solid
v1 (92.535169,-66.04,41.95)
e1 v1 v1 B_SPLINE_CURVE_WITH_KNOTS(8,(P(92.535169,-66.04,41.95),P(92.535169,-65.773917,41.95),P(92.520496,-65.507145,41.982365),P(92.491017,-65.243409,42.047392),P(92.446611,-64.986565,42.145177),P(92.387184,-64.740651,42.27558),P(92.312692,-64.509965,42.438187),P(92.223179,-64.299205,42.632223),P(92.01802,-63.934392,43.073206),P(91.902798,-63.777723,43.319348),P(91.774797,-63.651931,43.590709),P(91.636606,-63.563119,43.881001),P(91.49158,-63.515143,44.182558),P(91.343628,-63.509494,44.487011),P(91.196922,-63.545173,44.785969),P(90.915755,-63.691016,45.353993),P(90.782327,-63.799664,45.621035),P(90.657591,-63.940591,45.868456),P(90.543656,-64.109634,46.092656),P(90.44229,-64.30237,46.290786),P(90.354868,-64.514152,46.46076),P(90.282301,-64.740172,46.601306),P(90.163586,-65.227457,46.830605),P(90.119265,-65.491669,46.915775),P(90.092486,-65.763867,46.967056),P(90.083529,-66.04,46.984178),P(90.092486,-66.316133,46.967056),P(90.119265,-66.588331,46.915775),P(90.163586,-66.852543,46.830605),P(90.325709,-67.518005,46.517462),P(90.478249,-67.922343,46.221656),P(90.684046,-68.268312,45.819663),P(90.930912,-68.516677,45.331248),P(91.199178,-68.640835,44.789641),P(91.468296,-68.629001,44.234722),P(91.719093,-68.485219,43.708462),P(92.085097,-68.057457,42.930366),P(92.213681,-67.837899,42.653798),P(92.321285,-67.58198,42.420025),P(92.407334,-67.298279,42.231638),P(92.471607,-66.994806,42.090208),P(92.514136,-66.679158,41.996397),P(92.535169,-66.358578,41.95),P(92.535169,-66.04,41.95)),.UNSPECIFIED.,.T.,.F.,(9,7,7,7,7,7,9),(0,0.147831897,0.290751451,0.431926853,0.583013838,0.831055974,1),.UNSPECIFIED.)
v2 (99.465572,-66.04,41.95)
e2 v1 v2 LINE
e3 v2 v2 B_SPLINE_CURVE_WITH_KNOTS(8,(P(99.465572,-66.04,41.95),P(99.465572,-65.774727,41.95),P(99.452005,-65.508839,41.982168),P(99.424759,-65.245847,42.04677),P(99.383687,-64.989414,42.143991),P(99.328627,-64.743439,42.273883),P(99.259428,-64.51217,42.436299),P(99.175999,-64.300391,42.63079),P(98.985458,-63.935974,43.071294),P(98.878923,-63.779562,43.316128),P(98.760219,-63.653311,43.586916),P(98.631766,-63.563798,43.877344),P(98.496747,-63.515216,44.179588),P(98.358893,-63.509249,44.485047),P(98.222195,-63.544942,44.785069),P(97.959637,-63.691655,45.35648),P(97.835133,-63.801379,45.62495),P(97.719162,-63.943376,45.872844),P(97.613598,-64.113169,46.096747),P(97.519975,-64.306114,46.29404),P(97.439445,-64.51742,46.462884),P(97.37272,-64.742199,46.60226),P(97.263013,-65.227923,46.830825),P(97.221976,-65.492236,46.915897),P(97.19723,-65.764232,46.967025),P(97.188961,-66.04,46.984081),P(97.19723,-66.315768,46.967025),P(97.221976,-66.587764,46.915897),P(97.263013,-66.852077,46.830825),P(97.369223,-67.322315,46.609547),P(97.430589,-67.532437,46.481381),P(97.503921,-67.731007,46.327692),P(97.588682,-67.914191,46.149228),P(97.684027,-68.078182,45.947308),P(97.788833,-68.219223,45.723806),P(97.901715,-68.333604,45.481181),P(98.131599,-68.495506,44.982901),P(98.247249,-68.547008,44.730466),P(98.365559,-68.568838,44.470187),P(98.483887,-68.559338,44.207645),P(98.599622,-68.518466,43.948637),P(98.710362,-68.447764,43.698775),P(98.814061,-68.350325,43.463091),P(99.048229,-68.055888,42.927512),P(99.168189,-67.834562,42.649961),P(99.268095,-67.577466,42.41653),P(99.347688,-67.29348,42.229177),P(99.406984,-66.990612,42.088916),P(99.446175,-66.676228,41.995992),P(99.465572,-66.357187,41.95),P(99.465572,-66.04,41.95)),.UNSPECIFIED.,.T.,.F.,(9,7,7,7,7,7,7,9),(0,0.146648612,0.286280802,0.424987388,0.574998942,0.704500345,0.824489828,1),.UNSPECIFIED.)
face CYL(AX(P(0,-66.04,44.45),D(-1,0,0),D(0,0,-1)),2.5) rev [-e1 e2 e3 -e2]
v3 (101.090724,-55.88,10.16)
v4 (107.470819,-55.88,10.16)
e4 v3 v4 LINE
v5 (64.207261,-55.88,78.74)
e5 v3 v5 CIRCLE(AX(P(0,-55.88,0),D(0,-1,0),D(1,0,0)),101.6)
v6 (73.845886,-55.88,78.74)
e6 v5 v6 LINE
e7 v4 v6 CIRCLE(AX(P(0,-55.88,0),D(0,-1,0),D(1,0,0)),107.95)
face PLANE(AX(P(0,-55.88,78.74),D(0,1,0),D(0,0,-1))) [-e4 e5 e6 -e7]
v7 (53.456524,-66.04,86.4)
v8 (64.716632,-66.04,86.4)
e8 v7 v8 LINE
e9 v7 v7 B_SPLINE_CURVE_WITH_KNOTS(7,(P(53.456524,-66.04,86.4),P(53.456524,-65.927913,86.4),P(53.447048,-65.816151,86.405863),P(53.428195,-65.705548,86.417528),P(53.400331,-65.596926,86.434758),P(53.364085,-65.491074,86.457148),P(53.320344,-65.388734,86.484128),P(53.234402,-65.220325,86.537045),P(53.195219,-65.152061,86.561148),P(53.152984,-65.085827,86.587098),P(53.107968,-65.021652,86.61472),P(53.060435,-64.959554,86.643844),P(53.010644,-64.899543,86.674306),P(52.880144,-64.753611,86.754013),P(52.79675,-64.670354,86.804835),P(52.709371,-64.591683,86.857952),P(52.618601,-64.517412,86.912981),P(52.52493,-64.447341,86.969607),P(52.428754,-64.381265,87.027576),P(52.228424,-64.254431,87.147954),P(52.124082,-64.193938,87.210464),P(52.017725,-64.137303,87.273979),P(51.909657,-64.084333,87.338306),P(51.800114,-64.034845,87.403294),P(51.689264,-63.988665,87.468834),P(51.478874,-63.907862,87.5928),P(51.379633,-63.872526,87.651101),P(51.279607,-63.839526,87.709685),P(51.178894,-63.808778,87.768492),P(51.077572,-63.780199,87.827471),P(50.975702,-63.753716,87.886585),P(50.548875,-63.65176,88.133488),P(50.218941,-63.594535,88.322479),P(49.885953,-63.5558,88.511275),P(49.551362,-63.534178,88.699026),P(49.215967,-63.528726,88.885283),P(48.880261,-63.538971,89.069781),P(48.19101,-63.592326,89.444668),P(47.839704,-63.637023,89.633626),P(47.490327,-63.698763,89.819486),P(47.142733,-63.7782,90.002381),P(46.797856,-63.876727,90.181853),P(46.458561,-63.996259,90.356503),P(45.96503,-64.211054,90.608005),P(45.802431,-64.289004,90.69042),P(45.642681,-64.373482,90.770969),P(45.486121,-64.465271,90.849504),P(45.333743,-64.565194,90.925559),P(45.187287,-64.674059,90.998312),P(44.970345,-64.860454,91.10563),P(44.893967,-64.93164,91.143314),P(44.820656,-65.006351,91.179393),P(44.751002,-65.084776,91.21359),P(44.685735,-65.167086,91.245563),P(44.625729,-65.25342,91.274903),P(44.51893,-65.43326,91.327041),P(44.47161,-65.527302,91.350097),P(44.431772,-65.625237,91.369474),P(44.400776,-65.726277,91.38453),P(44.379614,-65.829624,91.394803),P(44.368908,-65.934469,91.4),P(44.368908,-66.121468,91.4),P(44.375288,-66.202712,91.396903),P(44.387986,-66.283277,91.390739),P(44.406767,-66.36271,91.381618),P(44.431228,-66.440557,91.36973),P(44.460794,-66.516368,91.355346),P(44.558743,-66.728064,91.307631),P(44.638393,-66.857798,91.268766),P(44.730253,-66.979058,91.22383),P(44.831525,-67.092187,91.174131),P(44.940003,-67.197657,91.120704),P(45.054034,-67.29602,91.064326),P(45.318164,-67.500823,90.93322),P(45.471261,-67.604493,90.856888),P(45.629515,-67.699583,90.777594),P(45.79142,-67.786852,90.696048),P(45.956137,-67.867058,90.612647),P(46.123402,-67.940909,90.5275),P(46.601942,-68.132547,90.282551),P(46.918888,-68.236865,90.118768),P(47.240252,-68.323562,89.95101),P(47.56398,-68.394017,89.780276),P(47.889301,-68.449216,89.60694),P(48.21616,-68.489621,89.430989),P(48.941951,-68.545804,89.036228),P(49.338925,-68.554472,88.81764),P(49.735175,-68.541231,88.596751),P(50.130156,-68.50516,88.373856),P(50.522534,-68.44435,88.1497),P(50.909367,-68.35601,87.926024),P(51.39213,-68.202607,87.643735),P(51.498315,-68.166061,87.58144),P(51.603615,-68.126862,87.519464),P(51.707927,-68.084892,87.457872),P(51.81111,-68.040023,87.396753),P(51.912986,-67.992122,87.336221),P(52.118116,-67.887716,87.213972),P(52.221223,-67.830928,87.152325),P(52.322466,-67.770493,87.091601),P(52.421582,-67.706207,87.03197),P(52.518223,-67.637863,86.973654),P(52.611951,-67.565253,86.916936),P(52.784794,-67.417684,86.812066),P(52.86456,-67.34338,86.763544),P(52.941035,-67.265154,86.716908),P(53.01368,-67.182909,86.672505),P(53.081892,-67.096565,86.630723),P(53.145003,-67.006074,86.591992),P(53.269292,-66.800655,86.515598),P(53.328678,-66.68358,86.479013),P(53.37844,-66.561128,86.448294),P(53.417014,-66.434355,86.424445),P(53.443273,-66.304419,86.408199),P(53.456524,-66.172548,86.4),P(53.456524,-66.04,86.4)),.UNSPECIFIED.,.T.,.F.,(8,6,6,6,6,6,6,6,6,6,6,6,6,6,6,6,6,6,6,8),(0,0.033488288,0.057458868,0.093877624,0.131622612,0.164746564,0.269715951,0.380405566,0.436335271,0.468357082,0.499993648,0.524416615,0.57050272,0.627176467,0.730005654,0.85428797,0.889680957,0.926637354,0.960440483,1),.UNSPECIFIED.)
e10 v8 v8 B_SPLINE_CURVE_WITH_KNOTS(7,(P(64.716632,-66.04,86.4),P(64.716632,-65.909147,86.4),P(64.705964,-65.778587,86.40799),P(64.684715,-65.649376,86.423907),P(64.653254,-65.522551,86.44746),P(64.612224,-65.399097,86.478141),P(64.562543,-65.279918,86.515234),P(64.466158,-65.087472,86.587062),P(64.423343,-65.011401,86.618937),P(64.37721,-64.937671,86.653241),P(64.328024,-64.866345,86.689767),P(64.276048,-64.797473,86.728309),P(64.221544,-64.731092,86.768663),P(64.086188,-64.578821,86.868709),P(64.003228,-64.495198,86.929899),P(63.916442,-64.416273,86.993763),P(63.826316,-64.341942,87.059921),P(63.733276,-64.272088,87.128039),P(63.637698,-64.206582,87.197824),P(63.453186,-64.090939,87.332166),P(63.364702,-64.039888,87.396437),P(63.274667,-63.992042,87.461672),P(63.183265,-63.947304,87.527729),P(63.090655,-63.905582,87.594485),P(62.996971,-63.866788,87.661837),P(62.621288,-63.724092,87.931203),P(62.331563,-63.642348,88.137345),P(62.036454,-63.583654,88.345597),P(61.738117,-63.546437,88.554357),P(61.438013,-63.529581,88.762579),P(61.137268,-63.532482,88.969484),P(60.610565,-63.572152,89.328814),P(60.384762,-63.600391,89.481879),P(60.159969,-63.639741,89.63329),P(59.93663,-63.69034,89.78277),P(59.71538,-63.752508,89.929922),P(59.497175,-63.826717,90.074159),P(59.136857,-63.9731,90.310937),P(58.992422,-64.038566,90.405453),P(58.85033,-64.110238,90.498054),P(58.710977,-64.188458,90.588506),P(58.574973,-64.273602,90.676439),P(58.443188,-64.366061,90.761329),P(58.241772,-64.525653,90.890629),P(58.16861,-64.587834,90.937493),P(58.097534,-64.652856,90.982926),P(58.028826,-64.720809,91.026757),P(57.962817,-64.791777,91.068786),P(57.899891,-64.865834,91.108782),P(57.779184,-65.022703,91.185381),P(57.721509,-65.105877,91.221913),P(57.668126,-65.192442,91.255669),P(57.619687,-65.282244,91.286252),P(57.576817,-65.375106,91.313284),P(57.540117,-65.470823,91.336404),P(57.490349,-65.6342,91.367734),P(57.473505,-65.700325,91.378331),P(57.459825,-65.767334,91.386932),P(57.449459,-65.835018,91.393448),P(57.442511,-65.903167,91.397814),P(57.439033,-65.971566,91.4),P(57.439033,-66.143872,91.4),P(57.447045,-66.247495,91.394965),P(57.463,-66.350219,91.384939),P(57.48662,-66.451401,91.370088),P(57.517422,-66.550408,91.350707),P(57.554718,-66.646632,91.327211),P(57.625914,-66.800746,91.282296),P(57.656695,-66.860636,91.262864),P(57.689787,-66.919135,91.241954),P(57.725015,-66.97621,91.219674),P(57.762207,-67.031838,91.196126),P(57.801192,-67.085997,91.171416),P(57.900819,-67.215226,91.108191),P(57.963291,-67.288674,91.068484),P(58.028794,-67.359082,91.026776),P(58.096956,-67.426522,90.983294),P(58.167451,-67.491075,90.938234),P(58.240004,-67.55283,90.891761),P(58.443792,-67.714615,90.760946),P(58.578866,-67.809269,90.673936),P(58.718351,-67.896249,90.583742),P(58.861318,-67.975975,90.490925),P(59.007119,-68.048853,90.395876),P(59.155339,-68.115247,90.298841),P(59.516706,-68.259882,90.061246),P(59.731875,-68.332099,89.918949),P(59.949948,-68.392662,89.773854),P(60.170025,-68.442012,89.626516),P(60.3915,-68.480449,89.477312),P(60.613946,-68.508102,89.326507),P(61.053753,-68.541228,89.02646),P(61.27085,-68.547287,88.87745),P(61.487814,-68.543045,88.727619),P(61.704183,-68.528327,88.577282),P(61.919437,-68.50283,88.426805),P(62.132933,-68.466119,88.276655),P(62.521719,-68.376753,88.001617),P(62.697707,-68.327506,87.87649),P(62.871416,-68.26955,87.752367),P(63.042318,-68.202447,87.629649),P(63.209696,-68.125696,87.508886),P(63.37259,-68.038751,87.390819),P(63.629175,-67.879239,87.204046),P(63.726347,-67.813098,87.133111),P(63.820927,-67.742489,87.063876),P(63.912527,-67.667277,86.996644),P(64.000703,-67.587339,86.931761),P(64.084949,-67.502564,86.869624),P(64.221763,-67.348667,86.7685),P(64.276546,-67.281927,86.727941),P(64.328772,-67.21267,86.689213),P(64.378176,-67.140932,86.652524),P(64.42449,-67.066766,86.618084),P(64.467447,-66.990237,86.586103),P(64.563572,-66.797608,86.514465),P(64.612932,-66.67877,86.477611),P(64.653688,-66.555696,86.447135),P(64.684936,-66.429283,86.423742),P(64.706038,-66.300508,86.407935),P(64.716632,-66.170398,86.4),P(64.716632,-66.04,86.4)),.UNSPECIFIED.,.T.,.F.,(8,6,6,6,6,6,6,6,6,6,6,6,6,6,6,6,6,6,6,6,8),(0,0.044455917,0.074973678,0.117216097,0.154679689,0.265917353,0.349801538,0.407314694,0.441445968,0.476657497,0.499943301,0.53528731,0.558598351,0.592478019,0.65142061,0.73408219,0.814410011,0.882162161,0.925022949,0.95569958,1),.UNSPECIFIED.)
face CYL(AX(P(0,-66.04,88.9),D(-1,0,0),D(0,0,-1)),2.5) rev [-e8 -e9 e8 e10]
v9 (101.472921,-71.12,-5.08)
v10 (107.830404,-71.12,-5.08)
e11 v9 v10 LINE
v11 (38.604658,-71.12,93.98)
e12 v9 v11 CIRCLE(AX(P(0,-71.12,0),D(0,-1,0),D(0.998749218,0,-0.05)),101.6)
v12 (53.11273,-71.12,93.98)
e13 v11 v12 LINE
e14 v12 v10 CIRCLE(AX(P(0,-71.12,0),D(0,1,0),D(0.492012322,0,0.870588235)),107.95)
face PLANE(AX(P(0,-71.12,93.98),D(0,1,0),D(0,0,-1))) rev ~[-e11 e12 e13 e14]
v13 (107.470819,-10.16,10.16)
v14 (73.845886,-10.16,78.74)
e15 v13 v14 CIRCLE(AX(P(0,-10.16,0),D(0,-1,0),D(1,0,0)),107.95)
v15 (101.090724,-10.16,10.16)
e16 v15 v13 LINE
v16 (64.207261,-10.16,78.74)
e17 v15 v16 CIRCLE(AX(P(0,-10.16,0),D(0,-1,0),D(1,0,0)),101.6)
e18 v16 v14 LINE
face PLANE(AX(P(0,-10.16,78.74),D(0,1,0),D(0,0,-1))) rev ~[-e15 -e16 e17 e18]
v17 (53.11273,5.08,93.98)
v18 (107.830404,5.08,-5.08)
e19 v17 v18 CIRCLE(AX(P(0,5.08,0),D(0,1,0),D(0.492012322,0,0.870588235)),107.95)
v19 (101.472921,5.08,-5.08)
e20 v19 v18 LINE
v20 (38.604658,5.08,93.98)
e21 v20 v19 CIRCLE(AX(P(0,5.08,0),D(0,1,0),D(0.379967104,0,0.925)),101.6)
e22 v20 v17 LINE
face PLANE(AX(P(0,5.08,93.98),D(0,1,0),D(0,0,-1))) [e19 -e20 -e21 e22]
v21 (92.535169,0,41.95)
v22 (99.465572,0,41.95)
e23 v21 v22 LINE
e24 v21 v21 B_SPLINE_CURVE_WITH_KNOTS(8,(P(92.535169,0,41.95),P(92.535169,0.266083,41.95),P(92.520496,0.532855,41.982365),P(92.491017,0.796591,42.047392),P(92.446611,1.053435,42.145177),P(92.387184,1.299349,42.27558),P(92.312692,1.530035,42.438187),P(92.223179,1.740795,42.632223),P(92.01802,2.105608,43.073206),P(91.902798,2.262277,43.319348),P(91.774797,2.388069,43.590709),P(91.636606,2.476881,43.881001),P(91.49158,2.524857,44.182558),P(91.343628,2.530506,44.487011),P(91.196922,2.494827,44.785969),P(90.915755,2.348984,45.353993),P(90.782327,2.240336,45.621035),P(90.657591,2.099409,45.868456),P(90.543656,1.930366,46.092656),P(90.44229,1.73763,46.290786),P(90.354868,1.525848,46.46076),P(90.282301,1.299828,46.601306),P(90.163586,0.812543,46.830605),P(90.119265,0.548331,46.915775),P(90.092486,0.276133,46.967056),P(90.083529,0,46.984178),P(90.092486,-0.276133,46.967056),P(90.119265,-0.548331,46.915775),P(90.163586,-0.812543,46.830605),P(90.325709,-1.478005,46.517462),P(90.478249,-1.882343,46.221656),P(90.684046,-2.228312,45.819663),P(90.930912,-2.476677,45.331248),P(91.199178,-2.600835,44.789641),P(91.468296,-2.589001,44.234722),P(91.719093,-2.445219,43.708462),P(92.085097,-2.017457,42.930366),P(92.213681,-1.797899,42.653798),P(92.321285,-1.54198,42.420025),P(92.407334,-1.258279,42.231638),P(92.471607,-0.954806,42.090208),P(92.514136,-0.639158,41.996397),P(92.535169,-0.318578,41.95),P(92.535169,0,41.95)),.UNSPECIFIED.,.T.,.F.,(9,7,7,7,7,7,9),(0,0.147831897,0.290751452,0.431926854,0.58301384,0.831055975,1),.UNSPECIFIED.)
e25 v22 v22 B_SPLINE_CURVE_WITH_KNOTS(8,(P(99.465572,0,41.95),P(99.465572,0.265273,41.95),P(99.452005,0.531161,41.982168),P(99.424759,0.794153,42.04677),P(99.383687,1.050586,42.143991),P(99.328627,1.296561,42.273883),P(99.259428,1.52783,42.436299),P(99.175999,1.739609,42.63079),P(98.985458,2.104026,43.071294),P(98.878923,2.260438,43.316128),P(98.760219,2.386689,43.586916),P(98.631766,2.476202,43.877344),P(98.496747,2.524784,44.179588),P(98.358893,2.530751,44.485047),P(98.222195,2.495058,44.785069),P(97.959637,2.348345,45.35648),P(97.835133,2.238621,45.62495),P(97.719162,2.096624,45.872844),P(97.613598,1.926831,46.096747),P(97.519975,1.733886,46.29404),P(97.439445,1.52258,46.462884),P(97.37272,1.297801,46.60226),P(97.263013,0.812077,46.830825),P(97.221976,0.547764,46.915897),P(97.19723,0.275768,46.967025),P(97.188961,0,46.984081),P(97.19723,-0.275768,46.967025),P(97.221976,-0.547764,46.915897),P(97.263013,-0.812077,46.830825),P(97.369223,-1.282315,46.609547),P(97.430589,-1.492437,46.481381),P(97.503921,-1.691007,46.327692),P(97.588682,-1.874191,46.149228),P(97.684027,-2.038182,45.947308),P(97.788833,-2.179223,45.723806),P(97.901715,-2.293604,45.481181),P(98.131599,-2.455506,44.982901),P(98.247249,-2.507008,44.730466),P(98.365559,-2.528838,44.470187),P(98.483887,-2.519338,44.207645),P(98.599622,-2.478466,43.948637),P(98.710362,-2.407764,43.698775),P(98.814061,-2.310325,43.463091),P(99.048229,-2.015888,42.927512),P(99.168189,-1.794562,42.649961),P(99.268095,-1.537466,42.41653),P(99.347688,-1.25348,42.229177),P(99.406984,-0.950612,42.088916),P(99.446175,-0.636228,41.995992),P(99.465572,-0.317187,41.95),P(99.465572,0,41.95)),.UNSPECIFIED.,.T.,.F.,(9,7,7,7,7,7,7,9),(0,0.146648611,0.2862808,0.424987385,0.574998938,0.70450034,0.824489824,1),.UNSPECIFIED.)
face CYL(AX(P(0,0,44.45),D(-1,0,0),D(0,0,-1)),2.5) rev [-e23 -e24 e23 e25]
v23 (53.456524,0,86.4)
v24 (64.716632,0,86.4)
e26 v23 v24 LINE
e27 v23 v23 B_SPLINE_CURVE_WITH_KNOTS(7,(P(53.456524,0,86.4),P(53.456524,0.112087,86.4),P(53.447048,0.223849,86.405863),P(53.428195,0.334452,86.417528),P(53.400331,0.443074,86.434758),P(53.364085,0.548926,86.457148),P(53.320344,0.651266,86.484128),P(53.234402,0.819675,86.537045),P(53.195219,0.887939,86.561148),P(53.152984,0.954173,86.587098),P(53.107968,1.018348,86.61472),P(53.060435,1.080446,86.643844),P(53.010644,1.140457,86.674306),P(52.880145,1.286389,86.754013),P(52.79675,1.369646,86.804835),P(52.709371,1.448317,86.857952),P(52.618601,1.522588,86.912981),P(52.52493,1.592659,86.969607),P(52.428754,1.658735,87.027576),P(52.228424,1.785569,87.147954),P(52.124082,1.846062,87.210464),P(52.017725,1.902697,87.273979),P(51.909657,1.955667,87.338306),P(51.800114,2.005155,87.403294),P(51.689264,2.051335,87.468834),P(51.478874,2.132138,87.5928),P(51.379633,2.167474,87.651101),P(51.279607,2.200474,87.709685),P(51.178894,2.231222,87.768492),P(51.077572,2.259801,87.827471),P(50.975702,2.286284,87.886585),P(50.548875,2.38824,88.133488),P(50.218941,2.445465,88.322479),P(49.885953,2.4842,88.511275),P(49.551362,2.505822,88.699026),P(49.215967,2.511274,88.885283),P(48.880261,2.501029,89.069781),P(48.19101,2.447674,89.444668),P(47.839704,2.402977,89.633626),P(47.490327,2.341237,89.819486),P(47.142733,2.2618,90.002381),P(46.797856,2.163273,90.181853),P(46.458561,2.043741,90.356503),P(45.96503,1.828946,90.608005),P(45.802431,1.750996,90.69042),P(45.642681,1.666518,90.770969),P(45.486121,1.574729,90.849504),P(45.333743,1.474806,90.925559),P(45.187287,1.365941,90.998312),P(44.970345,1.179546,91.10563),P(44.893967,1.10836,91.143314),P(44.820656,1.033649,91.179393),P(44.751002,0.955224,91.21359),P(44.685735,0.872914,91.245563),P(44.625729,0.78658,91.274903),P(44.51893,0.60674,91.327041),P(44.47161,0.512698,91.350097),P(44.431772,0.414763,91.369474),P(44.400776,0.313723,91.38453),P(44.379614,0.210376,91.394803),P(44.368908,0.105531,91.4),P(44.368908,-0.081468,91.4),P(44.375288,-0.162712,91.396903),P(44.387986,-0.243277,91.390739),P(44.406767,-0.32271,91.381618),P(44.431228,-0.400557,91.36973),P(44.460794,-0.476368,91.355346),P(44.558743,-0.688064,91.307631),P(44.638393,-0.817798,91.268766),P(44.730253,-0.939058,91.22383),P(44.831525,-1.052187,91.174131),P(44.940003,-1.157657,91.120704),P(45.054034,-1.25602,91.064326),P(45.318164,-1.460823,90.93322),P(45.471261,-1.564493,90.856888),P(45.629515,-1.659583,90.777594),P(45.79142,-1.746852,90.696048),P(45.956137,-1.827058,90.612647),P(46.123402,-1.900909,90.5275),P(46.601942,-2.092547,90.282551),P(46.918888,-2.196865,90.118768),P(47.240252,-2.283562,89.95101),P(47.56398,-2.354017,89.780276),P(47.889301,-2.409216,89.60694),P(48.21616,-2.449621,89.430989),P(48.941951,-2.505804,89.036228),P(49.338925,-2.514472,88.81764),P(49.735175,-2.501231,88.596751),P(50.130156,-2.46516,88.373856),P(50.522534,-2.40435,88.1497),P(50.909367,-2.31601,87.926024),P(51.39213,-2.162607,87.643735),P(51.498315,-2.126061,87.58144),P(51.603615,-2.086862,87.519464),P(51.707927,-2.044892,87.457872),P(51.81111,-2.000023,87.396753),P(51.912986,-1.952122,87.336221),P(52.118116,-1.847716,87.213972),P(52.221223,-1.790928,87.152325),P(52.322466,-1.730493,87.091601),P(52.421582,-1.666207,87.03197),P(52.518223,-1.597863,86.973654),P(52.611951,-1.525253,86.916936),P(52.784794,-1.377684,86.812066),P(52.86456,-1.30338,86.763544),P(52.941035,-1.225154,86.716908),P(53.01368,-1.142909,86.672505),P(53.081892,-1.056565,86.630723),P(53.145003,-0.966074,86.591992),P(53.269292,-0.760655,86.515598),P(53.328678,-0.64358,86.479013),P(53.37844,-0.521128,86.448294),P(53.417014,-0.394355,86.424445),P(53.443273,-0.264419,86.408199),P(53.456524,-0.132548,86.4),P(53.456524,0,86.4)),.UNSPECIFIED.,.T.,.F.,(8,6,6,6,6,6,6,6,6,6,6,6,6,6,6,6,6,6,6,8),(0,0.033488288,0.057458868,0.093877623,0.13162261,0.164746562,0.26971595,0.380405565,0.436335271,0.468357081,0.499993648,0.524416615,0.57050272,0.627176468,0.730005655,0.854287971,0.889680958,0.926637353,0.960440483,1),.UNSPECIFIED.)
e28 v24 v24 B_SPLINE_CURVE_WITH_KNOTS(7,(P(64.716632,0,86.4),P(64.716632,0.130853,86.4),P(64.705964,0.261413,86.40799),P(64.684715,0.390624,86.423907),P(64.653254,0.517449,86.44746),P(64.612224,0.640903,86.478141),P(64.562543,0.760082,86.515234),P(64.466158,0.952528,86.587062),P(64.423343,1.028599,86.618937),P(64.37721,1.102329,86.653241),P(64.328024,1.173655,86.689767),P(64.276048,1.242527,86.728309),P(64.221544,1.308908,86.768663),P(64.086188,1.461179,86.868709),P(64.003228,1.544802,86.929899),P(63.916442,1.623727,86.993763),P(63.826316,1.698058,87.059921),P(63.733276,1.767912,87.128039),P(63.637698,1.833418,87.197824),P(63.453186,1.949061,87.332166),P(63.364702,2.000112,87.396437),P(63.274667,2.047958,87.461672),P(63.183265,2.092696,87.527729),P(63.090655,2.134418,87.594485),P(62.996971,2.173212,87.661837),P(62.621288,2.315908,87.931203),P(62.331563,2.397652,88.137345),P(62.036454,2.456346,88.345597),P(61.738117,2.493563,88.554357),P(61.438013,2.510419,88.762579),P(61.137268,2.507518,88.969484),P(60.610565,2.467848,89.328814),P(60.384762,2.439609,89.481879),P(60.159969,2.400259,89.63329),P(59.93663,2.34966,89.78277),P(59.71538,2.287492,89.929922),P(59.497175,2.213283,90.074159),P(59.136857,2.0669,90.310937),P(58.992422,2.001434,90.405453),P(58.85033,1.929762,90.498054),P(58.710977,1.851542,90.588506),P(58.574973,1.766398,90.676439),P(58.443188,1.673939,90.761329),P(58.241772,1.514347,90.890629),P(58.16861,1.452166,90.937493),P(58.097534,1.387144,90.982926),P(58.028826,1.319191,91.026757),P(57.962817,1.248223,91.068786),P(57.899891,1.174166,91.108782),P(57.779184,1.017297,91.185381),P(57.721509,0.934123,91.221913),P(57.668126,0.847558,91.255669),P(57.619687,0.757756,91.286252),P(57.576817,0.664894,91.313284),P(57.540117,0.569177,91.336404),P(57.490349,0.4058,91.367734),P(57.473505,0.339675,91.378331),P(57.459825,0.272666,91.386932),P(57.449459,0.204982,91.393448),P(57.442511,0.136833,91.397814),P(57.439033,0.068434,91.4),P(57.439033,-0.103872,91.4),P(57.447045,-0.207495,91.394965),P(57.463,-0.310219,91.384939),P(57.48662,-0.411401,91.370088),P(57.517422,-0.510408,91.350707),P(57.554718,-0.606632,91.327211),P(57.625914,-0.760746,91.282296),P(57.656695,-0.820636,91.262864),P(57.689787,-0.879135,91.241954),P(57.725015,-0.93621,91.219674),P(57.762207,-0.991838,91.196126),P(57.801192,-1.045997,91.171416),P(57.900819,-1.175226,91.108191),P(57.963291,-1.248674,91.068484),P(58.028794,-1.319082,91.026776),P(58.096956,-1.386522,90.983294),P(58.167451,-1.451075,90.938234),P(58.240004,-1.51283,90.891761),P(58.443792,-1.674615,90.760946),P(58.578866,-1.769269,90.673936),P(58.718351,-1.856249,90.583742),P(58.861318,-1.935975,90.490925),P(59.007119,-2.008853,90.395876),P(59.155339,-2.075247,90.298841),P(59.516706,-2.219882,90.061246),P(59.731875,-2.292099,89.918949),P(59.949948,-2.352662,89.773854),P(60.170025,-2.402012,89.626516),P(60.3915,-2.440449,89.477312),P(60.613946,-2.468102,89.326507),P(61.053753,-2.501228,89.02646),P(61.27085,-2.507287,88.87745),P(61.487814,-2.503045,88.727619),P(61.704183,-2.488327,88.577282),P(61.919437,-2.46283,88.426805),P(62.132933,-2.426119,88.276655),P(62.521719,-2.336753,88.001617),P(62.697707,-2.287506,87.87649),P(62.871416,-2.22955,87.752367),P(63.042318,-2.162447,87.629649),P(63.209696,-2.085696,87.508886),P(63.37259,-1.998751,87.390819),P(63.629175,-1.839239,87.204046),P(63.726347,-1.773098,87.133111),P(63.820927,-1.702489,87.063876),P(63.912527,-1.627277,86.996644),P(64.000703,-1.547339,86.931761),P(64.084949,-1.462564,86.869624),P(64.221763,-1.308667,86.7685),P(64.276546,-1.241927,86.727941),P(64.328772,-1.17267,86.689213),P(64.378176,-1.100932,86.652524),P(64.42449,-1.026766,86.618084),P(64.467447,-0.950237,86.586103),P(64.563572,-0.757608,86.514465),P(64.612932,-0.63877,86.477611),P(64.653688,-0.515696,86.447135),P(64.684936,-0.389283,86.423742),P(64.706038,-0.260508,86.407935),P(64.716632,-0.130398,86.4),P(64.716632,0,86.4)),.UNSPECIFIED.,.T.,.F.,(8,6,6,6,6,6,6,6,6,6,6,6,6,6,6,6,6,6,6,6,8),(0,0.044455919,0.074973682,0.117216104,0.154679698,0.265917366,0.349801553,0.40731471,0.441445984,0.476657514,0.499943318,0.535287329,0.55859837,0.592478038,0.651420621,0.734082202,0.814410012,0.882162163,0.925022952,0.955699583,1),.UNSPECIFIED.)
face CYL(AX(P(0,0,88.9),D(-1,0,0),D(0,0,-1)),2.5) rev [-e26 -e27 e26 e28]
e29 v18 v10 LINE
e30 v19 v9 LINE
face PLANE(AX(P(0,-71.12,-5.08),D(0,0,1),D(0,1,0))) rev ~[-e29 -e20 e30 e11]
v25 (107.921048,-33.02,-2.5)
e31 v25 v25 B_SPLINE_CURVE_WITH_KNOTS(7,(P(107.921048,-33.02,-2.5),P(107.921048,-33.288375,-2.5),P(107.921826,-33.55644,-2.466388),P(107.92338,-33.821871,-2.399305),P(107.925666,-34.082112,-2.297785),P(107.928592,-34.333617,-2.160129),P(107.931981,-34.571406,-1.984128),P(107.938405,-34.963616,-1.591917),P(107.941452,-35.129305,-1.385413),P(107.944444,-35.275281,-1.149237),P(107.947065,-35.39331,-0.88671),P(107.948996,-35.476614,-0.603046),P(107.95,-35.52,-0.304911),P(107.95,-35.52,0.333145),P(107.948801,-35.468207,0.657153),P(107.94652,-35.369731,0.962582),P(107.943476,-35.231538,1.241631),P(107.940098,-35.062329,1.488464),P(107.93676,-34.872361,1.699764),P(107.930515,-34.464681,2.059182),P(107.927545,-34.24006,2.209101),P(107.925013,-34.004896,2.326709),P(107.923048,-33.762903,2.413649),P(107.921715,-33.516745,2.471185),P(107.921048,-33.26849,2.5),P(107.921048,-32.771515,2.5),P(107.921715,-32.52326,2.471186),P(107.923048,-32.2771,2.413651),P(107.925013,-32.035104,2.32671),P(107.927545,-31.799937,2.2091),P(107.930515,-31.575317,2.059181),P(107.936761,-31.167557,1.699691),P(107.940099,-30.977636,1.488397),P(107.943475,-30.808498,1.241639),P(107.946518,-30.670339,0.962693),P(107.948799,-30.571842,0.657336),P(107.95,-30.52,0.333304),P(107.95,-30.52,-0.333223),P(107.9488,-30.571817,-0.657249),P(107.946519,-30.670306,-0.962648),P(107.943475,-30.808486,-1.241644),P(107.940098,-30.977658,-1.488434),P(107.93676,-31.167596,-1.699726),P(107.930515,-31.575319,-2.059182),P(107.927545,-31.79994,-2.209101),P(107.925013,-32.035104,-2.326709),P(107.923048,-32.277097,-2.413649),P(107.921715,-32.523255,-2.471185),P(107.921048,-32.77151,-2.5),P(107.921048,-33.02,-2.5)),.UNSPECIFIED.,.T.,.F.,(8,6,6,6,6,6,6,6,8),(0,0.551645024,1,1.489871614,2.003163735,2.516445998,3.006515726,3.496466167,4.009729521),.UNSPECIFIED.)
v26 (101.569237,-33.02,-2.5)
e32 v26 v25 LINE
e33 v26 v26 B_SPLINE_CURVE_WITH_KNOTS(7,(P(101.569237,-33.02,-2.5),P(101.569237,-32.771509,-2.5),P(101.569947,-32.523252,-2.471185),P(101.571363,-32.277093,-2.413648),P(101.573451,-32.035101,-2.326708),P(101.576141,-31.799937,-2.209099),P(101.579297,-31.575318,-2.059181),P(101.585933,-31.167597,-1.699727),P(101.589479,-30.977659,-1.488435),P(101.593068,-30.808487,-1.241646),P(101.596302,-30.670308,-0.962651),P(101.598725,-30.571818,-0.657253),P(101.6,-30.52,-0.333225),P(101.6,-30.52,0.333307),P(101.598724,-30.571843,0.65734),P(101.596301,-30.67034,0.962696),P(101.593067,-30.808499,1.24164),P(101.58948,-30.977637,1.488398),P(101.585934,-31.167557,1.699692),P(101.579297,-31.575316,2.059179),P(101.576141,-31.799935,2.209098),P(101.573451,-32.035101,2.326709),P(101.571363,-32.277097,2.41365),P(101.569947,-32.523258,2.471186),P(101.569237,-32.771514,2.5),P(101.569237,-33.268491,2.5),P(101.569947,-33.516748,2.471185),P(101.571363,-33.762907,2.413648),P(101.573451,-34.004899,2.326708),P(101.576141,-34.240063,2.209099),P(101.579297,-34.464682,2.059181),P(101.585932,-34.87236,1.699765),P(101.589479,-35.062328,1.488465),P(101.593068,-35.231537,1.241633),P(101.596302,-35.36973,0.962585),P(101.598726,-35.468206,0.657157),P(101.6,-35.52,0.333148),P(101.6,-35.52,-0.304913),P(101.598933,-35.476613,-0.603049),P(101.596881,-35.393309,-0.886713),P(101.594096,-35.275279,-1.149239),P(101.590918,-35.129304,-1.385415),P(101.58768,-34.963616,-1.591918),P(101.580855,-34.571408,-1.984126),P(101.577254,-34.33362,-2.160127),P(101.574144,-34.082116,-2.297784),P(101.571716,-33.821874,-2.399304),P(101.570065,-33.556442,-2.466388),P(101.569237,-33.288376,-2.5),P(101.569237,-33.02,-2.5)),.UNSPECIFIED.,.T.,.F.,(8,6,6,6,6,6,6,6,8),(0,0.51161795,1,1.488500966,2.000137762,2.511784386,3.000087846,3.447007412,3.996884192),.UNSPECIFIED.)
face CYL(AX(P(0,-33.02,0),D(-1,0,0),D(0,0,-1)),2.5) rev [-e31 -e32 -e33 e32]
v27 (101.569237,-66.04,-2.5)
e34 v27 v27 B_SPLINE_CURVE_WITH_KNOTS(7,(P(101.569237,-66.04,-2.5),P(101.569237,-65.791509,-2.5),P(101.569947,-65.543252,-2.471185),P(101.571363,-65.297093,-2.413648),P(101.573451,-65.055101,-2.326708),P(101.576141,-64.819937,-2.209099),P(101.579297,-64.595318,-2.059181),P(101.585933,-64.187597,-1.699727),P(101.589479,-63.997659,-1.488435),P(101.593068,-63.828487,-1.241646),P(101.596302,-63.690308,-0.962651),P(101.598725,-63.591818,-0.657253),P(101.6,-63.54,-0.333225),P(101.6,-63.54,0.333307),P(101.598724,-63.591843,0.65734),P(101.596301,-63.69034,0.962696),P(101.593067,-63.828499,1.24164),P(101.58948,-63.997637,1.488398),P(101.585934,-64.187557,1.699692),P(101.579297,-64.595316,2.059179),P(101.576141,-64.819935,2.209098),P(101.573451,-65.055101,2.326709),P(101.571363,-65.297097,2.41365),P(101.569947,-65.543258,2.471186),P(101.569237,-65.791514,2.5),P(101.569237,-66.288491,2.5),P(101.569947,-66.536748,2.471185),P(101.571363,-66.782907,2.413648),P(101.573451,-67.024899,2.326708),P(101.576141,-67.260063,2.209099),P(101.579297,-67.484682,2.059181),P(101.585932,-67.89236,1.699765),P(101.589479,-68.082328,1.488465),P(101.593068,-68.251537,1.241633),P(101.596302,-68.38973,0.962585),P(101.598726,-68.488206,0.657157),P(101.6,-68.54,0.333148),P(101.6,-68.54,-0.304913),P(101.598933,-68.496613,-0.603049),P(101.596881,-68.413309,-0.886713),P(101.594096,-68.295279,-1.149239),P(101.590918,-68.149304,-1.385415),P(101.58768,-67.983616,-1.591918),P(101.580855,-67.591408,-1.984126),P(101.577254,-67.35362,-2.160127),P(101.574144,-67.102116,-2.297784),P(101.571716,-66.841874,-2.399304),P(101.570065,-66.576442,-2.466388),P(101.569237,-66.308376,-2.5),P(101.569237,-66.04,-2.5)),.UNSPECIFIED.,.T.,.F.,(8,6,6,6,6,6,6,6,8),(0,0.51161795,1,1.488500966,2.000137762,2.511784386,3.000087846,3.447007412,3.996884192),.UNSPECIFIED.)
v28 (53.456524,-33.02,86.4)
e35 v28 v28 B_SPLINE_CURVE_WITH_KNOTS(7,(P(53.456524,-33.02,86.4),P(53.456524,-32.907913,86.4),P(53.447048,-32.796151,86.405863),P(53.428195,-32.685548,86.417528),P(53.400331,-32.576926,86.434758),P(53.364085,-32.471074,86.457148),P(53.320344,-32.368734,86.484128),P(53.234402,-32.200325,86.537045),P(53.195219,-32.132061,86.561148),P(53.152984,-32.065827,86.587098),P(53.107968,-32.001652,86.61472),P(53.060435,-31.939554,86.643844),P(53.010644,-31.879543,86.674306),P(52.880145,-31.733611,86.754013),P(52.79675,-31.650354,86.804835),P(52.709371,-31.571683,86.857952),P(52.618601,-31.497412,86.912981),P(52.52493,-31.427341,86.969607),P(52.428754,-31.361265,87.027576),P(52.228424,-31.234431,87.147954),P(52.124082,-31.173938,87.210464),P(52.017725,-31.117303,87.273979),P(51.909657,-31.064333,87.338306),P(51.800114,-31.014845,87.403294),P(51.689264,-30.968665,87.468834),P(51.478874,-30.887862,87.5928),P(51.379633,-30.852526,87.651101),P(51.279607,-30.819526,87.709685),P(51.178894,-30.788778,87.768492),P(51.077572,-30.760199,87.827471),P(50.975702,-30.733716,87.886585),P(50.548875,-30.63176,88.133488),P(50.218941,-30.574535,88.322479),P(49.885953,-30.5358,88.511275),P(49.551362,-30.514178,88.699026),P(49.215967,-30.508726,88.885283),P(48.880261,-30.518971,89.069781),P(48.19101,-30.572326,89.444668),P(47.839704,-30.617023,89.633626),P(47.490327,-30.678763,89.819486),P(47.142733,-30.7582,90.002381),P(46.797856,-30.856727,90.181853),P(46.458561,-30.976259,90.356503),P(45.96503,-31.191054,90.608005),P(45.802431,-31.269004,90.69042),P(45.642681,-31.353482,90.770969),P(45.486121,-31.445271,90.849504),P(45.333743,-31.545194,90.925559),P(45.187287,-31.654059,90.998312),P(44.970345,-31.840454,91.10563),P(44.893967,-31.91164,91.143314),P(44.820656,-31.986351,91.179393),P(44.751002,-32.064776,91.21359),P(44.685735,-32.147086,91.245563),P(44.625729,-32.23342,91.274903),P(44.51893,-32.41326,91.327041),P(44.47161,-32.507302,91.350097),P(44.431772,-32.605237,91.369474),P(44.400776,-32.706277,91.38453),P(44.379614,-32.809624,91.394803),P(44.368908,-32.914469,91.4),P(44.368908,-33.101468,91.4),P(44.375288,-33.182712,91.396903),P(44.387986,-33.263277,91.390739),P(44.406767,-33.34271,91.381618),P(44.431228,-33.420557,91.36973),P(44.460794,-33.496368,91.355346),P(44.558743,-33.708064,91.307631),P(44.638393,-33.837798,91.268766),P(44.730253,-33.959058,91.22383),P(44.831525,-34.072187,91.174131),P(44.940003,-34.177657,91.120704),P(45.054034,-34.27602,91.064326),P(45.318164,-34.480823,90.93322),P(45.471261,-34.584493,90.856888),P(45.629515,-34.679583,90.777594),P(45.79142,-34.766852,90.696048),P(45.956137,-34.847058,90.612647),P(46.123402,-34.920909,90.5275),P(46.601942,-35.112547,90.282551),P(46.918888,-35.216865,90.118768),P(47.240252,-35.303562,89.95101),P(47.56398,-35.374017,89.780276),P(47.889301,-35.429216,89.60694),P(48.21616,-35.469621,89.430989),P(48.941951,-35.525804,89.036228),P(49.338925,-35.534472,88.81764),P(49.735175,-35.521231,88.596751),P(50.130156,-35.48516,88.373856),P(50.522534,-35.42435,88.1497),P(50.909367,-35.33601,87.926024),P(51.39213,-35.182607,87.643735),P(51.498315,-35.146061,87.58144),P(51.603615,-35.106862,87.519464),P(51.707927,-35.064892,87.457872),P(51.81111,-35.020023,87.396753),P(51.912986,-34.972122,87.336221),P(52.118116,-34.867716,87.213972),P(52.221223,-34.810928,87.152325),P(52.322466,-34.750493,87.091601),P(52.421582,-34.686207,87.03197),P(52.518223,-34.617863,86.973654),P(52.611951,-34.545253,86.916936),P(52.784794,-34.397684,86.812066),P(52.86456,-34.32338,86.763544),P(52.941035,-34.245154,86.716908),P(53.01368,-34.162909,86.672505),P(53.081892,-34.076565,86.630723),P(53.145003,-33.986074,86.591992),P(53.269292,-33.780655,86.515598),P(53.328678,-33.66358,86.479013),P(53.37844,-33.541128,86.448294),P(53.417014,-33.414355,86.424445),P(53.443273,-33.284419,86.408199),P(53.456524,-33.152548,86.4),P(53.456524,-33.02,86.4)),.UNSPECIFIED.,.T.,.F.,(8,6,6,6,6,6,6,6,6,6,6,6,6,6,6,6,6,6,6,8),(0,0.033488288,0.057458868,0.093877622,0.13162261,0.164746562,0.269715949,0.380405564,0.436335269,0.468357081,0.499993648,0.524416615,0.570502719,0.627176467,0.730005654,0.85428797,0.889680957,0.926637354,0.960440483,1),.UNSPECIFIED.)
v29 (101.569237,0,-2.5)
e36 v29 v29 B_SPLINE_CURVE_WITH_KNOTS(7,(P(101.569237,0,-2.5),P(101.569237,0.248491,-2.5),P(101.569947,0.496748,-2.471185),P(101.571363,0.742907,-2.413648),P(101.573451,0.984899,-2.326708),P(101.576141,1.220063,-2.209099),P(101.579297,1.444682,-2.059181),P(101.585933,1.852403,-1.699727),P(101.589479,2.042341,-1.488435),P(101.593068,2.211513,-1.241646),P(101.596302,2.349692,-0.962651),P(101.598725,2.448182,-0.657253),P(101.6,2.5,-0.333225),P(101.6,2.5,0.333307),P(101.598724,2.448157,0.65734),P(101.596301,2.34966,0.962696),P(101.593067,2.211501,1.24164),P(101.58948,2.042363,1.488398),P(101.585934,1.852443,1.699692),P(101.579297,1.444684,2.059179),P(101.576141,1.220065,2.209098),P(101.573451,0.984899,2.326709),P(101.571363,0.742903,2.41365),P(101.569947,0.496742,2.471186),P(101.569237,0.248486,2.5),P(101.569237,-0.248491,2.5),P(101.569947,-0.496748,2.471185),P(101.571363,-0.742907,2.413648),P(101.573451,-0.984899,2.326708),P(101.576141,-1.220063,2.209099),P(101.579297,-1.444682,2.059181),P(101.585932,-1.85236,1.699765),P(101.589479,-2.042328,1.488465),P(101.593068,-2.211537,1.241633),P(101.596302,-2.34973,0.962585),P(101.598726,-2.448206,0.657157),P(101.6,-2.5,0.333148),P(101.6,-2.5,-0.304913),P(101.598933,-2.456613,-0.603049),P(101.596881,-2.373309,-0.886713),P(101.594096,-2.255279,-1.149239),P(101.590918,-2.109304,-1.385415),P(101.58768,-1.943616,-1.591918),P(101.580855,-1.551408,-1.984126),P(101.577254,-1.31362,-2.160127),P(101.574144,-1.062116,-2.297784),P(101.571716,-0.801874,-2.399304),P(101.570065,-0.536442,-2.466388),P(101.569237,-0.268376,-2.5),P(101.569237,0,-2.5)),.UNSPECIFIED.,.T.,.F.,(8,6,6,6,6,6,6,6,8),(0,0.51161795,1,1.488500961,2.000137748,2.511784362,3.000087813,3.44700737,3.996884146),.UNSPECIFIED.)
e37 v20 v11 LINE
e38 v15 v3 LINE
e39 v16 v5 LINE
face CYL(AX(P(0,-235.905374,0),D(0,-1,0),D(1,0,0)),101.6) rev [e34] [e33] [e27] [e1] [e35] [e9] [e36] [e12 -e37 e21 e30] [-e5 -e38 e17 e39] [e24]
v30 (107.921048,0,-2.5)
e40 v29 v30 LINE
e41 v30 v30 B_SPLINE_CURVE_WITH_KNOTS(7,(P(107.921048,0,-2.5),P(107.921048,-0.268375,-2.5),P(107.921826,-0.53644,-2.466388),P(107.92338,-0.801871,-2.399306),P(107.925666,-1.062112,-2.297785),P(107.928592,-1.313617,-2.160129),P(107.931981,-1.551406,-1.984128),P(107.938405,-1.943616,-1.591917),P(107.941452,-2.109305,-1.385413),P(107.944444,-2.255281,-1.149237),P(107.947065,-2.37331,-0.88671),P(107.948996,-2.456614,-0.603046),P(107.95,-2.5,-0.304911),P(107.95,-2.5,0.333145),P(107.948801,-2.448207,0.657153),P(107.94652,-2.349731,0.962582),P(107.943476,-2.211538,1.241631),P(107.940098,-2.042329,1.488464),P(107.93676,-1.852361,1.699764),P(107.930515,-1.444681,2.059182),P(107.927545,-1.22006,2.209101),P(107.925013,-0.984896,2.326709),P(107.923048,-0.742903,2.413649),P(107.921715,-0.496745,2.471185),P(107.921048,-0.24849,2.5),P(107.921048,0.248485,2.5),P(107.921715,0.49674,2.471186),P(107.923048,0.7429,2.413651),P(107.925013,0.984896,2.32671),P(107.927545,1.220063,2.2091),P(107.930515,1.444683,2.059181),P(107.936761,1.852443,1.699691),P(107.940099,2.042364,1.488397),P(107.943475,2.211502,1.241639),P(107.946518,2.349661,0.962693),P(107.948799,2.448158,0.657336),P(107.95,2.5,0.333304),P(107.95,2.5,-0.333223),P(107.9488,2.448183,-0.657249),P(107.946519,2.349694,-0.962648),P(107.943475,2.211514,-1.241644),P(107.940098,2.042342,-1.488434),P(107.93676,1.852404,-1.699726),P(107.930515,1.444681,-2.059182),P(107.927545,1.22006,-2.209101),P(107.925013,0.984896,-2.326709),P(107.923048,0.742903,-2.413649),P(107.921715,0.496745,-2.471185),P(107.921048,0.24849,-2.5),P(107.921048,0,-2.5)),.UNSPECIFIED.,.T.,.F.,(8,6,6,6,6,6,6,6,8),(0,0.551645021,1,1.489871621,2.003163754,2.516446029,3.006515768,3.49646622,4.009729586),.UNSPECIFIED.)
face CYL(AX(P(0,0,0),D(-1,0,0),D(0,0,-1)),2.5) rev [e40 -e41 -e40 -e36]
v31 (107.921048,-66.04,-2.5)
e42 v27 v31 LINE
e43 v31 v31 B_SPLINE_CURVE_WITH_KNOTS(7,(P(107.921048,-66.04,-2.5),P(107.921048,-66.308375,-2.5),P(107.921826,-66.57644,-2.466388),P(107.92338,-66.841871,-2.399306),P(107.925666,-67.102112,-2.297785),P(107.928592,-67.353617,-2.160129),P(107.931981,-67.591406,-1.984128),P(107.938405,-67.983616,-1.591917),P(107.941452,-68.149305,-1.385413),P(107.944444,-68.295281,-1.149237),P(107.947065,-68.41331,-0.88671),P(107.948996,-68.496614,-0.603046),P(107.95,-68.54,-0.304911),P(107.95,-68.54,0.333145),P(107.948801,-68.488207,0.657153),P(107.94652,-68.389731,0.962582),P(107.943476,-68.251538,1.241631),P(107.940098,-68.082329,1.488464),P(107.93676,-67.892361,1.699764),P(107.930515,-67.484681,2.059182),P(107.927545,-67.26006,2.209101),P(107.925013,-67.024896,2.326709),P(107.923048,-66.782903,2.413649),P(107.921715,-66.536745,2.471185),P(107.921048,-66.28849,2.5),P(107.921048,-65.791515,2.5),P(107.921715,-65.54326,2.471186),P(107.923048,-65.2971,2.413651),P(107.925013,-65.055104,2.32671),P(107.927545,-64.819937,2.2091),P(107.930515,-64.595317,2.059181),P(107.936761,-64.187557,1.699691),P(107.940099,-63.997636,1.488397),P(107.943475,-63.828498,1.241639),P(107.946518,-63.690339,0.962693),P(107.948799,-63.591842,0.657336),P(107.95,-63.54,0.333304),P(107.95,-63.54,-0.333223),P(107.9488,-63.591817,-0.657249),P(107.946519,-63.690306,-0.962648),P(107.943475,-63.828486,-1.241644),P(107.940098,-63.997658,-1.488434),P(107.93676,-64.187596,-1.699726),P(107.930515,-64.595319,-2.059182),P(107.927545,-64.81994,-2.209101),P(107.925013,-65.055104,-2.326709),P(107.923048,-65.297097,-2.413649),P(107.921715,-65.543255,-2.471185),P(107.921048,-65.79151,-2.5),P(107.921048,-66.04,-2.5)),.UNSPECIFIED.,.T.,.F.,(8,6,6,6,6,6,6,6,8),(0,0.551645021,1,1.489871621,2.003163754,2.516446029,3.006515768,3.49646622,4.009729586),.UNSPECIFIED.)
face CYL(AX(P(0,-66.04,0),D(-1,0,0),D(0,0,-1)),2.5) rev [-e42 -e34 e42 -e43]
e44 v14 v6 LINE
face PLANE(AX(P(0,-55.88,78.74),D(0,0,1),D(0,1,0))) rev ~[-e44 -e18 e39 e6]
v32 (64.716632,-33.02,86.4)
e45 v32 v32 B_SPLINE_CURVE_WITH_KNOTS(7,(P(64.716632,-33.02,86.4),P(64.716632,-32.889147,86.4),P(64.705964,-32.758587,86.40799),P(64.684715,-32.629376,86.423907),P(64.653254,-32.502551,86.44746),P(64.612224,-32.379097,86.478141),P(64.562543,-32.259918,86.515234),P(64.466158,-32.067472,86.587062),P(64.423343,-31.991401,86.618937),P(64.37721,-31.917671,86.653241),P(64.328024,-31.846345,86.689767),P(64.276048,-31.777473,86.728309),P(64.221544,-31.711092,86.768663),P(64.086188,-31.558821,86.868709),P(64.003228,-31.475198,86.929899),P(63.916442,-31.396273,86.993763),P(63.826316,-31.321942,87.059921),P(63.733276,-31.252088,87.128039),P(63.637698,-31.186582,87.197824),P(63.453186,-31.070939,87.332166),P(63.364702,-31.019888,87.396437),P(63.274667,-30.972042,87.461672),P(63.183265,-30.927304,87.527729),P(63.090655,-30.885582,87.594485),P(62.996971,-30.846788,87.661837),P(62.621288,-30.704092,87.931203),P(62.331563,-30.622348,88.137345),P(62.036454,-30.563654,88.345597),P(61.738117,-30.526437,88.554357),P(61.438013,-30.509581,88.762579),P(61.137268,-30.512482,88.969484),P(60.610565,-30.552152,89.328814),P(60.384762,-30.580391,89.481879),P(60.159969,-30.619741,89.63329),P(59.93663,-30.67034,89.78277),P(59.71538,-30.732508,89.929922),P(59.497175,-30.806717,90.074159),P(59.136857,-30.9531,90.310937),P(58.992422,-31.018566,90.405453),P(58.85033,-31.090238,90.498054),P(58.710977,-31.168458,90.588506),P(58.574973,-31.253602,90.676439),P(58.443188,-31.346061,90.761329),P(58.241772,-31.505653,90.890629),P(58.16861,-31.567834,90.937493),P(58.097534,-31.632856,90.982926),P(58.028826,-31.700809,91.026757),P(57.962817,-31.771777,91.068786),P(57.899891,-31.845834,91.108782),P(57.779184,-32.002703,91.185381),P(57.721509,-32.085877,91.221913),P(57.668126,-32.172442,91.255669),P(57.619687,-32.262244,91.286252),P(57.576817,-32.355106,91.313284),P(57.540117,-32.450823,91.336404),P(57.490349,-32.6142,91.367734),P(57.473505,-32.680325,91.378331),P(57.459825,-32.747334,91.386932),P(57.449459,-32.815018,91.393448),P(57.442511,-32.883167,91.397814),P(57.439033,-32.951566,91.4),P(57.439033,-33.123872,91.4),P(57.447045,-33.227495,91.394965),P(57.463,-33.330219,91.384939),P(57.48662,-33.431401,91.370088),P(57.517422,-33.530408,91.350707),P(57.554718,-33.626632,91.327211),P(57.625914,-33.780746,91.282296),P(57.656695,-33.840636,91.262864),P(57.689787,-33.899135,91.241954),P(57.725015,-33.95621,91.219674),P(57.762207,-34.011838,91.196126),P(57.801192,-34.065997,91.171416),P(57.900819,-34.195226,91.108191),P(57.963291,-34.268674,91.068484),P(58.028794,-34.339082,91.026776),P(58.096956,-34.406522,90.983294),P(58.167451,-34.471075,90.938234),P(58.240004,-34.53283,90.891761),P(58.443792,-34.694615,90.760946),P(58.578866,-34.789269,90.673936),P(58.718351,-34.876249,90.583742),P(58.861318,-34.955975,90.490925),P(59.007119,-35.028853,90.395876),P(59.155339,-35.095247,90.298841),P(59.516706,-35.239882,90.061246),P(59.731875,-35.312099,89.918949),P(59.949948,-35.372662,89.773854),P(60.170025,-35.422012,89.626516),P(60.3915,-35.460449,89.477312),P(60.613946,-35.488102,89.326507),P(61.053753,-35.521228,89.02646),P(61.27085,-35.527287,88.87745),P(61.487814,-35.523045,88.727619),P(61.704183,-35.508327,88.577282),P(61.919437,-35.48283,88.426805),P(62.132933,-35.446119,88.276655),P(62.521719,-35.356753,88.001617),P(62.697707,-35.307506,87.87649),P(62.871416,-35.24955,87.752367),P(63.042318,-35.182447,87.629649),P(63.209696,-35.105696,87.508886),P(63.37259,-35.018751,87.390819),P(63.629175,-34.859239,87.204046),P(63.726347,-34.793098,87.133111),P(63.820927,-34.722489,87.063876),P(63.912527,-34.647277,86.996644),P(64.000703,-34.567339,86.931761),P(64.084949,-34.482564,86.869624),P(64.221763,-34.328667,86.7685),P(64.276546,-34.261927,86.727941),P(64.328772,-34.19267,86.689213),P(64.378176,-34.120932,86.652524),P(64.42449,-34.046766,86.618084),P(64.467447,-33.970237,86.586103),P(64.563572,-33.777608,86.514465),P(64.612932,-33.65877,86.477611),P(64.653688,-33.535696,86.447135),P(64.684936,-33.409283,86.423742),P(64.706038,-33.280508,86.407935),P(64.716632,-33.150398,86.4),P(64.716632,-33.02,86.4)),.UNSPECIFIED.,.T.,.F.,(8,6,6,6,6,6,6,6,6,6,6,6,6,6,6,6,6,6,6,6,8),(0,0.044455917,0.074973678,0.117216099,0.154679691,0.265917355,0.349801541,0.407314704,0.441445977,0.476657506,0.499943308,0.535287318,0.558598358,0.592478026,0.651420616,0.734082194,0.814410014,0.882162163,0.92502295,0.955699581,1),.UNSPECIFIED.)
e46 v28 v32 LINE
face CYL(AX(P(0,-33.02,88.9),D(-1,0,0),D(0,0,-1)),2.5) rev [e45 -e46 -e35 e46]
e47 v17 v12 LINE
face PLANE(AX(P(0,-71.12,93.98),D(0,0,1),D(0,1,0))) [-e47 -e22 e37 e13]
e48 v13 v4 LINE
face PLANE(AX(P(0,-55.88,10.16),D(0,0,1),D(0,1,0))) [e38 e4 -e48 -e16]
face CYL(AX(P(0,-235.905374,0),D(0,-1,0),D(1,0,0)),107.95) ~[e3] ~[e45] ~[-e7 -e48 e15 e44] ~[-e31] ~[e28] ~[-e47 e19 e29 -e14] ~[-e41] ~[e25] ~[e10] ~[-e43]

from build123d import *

# Parameters (mm, degrees)
SKETCH2_W               = 78.74
SKETCH2_H               = 55.88
SKETCH2_W_2             = 68.58
SKETCH2_H_2             = 45.72
BOSS_EXTRUDE1_DEPTH     = 203.2
SKETCH2_3_W             = 99.06
SKETCH2_3_H             = 76.2
SKETCH2_3_R             = 2.5
SKETCH2_3_W_2           = 78.74
SKETCH2_3_H_2           = 55.88
BOSS_EXTRUDE2_DEPTH     = 107.95
CUT_EXTRUDE1_DEPTH      = 235.90537414
CUT_EXTRUDE1_DEPTH_BACK = 235.90537414
SKETCH1_R               = 101.6
CUT_EXTRUDE3_DEPTH      = 235.905374211
CUT_EXTRUDE3_DEPTH_BACK = 235.905374211
SKETCH3_R               = 615.95
SKETCH3_R_2             = 107.95


with BuildPart() as part:
    # Sketch2 → Boss-Extrude1 (new body)
    with BuildSketch(Plane(origin=(0, 0, 0), x_dir=(0, 0, -1), z_dir=(1, 0, 0))):
        with Locations((-44.45, -33.02)):
            Rectangle(SKETCH2_W, SKETCH2_H)
        with Locations((-44.45, -33.02)):
            Rectangle(SKETCH2_W_2, SKETCH2_H_2, mode=Mode.SUBTRACT)
    extrude(amount=BOSS_EXTRUDE1_DEPTH)

    # Sketch2<3> → Boss-Extrude2 (add)
    with BuildSketch(Plane(origin=(0, 0, 0), x_dir=(0, 0, -1), z_dir=(1, 0, 0))):
        with Locations((-44.45, -33.02)):
            Rectangle(SKETCH2_3_W, SKETCH2_3_H)
        with Locations((0, -33.02)):
            Circle(SKETCH2_3_R, mode=Mode.SUBTRACT)
        with Locations((0, -66.04)):
            Circle(SKETCH2_3_R, mode=Mode.SUBTRACT)
        with Locations((-44.45, -66.04)):
            Circle(SKETCH2_3_R, mode=Mode.SUBTRACT)
        with Locations((-88.9, -66.04)):
            Circle(SKETCH2_3_R, mode=Mode.SUBTRACT)
        with Locations((-88.9, -33.02)):
            Circle(SKETCH2_3_R, mode=Mode.SUBTRACT)
        Circle(SKETCH2_3_R, mode=Mode.SUBTRACT)
        with Locations((-44.45, 0)):
            Circle(SKETCH2_3_R, mode=Mode.SUBTRACT)
        with Locations((-88.9, 0)):
            Circle(SKETCH2_3_R, mode=Mode.SUBTRACT)
        with Locations((-44.45, -33.02)):
            Rectangle(SKETCH2_3_W_2, SKETCH2_3_H_2, mode=Mode.SUBTRACT)
    extrude(amount=BOSS_EXTRUDE2_DEPTH)

    # Sketch1 → Cut-Extrude1 (cut, two sides: drawn at the far end of the back side and taken through both)
    with BuildSketch(Plane(origin=(0, 0, 0), x_dir=(1, 0, 0), z_dir=(0, 1, 0)).offset(-CUT_EXTRUDE1_DEPTH_BACK)):
        Circle(SKETCH1_R)
    extrude(amount=CUT_EXTRUDE1_DEPTH + CUT_EXTRUDE1_DEPTH_BACK, mode=Mode.SUBTRACT)

    # Sketch3 → Cut-Extrude3 (cut, two sides: drawn at the far end of the back side and taken through both)
    with BuildSketch(Plane(origin=(0, 0, 0), x_dir=(1, 0, 0), z_dir=(0, 1, 0)).offset(-CUT_EXTRUDE3_DEPTH_BACK)):
        Circle(SKETCH3_R)
        Circle(SKETCH3_R_2, mode=Mode.SUBTRACT)
    extrude(amount=CUT_EXTRUDE3_DEPTH + CUT_EXTRUDE3_DEPTH_BACK, mode=Mode.SUBTRACT)


solid = part.part
